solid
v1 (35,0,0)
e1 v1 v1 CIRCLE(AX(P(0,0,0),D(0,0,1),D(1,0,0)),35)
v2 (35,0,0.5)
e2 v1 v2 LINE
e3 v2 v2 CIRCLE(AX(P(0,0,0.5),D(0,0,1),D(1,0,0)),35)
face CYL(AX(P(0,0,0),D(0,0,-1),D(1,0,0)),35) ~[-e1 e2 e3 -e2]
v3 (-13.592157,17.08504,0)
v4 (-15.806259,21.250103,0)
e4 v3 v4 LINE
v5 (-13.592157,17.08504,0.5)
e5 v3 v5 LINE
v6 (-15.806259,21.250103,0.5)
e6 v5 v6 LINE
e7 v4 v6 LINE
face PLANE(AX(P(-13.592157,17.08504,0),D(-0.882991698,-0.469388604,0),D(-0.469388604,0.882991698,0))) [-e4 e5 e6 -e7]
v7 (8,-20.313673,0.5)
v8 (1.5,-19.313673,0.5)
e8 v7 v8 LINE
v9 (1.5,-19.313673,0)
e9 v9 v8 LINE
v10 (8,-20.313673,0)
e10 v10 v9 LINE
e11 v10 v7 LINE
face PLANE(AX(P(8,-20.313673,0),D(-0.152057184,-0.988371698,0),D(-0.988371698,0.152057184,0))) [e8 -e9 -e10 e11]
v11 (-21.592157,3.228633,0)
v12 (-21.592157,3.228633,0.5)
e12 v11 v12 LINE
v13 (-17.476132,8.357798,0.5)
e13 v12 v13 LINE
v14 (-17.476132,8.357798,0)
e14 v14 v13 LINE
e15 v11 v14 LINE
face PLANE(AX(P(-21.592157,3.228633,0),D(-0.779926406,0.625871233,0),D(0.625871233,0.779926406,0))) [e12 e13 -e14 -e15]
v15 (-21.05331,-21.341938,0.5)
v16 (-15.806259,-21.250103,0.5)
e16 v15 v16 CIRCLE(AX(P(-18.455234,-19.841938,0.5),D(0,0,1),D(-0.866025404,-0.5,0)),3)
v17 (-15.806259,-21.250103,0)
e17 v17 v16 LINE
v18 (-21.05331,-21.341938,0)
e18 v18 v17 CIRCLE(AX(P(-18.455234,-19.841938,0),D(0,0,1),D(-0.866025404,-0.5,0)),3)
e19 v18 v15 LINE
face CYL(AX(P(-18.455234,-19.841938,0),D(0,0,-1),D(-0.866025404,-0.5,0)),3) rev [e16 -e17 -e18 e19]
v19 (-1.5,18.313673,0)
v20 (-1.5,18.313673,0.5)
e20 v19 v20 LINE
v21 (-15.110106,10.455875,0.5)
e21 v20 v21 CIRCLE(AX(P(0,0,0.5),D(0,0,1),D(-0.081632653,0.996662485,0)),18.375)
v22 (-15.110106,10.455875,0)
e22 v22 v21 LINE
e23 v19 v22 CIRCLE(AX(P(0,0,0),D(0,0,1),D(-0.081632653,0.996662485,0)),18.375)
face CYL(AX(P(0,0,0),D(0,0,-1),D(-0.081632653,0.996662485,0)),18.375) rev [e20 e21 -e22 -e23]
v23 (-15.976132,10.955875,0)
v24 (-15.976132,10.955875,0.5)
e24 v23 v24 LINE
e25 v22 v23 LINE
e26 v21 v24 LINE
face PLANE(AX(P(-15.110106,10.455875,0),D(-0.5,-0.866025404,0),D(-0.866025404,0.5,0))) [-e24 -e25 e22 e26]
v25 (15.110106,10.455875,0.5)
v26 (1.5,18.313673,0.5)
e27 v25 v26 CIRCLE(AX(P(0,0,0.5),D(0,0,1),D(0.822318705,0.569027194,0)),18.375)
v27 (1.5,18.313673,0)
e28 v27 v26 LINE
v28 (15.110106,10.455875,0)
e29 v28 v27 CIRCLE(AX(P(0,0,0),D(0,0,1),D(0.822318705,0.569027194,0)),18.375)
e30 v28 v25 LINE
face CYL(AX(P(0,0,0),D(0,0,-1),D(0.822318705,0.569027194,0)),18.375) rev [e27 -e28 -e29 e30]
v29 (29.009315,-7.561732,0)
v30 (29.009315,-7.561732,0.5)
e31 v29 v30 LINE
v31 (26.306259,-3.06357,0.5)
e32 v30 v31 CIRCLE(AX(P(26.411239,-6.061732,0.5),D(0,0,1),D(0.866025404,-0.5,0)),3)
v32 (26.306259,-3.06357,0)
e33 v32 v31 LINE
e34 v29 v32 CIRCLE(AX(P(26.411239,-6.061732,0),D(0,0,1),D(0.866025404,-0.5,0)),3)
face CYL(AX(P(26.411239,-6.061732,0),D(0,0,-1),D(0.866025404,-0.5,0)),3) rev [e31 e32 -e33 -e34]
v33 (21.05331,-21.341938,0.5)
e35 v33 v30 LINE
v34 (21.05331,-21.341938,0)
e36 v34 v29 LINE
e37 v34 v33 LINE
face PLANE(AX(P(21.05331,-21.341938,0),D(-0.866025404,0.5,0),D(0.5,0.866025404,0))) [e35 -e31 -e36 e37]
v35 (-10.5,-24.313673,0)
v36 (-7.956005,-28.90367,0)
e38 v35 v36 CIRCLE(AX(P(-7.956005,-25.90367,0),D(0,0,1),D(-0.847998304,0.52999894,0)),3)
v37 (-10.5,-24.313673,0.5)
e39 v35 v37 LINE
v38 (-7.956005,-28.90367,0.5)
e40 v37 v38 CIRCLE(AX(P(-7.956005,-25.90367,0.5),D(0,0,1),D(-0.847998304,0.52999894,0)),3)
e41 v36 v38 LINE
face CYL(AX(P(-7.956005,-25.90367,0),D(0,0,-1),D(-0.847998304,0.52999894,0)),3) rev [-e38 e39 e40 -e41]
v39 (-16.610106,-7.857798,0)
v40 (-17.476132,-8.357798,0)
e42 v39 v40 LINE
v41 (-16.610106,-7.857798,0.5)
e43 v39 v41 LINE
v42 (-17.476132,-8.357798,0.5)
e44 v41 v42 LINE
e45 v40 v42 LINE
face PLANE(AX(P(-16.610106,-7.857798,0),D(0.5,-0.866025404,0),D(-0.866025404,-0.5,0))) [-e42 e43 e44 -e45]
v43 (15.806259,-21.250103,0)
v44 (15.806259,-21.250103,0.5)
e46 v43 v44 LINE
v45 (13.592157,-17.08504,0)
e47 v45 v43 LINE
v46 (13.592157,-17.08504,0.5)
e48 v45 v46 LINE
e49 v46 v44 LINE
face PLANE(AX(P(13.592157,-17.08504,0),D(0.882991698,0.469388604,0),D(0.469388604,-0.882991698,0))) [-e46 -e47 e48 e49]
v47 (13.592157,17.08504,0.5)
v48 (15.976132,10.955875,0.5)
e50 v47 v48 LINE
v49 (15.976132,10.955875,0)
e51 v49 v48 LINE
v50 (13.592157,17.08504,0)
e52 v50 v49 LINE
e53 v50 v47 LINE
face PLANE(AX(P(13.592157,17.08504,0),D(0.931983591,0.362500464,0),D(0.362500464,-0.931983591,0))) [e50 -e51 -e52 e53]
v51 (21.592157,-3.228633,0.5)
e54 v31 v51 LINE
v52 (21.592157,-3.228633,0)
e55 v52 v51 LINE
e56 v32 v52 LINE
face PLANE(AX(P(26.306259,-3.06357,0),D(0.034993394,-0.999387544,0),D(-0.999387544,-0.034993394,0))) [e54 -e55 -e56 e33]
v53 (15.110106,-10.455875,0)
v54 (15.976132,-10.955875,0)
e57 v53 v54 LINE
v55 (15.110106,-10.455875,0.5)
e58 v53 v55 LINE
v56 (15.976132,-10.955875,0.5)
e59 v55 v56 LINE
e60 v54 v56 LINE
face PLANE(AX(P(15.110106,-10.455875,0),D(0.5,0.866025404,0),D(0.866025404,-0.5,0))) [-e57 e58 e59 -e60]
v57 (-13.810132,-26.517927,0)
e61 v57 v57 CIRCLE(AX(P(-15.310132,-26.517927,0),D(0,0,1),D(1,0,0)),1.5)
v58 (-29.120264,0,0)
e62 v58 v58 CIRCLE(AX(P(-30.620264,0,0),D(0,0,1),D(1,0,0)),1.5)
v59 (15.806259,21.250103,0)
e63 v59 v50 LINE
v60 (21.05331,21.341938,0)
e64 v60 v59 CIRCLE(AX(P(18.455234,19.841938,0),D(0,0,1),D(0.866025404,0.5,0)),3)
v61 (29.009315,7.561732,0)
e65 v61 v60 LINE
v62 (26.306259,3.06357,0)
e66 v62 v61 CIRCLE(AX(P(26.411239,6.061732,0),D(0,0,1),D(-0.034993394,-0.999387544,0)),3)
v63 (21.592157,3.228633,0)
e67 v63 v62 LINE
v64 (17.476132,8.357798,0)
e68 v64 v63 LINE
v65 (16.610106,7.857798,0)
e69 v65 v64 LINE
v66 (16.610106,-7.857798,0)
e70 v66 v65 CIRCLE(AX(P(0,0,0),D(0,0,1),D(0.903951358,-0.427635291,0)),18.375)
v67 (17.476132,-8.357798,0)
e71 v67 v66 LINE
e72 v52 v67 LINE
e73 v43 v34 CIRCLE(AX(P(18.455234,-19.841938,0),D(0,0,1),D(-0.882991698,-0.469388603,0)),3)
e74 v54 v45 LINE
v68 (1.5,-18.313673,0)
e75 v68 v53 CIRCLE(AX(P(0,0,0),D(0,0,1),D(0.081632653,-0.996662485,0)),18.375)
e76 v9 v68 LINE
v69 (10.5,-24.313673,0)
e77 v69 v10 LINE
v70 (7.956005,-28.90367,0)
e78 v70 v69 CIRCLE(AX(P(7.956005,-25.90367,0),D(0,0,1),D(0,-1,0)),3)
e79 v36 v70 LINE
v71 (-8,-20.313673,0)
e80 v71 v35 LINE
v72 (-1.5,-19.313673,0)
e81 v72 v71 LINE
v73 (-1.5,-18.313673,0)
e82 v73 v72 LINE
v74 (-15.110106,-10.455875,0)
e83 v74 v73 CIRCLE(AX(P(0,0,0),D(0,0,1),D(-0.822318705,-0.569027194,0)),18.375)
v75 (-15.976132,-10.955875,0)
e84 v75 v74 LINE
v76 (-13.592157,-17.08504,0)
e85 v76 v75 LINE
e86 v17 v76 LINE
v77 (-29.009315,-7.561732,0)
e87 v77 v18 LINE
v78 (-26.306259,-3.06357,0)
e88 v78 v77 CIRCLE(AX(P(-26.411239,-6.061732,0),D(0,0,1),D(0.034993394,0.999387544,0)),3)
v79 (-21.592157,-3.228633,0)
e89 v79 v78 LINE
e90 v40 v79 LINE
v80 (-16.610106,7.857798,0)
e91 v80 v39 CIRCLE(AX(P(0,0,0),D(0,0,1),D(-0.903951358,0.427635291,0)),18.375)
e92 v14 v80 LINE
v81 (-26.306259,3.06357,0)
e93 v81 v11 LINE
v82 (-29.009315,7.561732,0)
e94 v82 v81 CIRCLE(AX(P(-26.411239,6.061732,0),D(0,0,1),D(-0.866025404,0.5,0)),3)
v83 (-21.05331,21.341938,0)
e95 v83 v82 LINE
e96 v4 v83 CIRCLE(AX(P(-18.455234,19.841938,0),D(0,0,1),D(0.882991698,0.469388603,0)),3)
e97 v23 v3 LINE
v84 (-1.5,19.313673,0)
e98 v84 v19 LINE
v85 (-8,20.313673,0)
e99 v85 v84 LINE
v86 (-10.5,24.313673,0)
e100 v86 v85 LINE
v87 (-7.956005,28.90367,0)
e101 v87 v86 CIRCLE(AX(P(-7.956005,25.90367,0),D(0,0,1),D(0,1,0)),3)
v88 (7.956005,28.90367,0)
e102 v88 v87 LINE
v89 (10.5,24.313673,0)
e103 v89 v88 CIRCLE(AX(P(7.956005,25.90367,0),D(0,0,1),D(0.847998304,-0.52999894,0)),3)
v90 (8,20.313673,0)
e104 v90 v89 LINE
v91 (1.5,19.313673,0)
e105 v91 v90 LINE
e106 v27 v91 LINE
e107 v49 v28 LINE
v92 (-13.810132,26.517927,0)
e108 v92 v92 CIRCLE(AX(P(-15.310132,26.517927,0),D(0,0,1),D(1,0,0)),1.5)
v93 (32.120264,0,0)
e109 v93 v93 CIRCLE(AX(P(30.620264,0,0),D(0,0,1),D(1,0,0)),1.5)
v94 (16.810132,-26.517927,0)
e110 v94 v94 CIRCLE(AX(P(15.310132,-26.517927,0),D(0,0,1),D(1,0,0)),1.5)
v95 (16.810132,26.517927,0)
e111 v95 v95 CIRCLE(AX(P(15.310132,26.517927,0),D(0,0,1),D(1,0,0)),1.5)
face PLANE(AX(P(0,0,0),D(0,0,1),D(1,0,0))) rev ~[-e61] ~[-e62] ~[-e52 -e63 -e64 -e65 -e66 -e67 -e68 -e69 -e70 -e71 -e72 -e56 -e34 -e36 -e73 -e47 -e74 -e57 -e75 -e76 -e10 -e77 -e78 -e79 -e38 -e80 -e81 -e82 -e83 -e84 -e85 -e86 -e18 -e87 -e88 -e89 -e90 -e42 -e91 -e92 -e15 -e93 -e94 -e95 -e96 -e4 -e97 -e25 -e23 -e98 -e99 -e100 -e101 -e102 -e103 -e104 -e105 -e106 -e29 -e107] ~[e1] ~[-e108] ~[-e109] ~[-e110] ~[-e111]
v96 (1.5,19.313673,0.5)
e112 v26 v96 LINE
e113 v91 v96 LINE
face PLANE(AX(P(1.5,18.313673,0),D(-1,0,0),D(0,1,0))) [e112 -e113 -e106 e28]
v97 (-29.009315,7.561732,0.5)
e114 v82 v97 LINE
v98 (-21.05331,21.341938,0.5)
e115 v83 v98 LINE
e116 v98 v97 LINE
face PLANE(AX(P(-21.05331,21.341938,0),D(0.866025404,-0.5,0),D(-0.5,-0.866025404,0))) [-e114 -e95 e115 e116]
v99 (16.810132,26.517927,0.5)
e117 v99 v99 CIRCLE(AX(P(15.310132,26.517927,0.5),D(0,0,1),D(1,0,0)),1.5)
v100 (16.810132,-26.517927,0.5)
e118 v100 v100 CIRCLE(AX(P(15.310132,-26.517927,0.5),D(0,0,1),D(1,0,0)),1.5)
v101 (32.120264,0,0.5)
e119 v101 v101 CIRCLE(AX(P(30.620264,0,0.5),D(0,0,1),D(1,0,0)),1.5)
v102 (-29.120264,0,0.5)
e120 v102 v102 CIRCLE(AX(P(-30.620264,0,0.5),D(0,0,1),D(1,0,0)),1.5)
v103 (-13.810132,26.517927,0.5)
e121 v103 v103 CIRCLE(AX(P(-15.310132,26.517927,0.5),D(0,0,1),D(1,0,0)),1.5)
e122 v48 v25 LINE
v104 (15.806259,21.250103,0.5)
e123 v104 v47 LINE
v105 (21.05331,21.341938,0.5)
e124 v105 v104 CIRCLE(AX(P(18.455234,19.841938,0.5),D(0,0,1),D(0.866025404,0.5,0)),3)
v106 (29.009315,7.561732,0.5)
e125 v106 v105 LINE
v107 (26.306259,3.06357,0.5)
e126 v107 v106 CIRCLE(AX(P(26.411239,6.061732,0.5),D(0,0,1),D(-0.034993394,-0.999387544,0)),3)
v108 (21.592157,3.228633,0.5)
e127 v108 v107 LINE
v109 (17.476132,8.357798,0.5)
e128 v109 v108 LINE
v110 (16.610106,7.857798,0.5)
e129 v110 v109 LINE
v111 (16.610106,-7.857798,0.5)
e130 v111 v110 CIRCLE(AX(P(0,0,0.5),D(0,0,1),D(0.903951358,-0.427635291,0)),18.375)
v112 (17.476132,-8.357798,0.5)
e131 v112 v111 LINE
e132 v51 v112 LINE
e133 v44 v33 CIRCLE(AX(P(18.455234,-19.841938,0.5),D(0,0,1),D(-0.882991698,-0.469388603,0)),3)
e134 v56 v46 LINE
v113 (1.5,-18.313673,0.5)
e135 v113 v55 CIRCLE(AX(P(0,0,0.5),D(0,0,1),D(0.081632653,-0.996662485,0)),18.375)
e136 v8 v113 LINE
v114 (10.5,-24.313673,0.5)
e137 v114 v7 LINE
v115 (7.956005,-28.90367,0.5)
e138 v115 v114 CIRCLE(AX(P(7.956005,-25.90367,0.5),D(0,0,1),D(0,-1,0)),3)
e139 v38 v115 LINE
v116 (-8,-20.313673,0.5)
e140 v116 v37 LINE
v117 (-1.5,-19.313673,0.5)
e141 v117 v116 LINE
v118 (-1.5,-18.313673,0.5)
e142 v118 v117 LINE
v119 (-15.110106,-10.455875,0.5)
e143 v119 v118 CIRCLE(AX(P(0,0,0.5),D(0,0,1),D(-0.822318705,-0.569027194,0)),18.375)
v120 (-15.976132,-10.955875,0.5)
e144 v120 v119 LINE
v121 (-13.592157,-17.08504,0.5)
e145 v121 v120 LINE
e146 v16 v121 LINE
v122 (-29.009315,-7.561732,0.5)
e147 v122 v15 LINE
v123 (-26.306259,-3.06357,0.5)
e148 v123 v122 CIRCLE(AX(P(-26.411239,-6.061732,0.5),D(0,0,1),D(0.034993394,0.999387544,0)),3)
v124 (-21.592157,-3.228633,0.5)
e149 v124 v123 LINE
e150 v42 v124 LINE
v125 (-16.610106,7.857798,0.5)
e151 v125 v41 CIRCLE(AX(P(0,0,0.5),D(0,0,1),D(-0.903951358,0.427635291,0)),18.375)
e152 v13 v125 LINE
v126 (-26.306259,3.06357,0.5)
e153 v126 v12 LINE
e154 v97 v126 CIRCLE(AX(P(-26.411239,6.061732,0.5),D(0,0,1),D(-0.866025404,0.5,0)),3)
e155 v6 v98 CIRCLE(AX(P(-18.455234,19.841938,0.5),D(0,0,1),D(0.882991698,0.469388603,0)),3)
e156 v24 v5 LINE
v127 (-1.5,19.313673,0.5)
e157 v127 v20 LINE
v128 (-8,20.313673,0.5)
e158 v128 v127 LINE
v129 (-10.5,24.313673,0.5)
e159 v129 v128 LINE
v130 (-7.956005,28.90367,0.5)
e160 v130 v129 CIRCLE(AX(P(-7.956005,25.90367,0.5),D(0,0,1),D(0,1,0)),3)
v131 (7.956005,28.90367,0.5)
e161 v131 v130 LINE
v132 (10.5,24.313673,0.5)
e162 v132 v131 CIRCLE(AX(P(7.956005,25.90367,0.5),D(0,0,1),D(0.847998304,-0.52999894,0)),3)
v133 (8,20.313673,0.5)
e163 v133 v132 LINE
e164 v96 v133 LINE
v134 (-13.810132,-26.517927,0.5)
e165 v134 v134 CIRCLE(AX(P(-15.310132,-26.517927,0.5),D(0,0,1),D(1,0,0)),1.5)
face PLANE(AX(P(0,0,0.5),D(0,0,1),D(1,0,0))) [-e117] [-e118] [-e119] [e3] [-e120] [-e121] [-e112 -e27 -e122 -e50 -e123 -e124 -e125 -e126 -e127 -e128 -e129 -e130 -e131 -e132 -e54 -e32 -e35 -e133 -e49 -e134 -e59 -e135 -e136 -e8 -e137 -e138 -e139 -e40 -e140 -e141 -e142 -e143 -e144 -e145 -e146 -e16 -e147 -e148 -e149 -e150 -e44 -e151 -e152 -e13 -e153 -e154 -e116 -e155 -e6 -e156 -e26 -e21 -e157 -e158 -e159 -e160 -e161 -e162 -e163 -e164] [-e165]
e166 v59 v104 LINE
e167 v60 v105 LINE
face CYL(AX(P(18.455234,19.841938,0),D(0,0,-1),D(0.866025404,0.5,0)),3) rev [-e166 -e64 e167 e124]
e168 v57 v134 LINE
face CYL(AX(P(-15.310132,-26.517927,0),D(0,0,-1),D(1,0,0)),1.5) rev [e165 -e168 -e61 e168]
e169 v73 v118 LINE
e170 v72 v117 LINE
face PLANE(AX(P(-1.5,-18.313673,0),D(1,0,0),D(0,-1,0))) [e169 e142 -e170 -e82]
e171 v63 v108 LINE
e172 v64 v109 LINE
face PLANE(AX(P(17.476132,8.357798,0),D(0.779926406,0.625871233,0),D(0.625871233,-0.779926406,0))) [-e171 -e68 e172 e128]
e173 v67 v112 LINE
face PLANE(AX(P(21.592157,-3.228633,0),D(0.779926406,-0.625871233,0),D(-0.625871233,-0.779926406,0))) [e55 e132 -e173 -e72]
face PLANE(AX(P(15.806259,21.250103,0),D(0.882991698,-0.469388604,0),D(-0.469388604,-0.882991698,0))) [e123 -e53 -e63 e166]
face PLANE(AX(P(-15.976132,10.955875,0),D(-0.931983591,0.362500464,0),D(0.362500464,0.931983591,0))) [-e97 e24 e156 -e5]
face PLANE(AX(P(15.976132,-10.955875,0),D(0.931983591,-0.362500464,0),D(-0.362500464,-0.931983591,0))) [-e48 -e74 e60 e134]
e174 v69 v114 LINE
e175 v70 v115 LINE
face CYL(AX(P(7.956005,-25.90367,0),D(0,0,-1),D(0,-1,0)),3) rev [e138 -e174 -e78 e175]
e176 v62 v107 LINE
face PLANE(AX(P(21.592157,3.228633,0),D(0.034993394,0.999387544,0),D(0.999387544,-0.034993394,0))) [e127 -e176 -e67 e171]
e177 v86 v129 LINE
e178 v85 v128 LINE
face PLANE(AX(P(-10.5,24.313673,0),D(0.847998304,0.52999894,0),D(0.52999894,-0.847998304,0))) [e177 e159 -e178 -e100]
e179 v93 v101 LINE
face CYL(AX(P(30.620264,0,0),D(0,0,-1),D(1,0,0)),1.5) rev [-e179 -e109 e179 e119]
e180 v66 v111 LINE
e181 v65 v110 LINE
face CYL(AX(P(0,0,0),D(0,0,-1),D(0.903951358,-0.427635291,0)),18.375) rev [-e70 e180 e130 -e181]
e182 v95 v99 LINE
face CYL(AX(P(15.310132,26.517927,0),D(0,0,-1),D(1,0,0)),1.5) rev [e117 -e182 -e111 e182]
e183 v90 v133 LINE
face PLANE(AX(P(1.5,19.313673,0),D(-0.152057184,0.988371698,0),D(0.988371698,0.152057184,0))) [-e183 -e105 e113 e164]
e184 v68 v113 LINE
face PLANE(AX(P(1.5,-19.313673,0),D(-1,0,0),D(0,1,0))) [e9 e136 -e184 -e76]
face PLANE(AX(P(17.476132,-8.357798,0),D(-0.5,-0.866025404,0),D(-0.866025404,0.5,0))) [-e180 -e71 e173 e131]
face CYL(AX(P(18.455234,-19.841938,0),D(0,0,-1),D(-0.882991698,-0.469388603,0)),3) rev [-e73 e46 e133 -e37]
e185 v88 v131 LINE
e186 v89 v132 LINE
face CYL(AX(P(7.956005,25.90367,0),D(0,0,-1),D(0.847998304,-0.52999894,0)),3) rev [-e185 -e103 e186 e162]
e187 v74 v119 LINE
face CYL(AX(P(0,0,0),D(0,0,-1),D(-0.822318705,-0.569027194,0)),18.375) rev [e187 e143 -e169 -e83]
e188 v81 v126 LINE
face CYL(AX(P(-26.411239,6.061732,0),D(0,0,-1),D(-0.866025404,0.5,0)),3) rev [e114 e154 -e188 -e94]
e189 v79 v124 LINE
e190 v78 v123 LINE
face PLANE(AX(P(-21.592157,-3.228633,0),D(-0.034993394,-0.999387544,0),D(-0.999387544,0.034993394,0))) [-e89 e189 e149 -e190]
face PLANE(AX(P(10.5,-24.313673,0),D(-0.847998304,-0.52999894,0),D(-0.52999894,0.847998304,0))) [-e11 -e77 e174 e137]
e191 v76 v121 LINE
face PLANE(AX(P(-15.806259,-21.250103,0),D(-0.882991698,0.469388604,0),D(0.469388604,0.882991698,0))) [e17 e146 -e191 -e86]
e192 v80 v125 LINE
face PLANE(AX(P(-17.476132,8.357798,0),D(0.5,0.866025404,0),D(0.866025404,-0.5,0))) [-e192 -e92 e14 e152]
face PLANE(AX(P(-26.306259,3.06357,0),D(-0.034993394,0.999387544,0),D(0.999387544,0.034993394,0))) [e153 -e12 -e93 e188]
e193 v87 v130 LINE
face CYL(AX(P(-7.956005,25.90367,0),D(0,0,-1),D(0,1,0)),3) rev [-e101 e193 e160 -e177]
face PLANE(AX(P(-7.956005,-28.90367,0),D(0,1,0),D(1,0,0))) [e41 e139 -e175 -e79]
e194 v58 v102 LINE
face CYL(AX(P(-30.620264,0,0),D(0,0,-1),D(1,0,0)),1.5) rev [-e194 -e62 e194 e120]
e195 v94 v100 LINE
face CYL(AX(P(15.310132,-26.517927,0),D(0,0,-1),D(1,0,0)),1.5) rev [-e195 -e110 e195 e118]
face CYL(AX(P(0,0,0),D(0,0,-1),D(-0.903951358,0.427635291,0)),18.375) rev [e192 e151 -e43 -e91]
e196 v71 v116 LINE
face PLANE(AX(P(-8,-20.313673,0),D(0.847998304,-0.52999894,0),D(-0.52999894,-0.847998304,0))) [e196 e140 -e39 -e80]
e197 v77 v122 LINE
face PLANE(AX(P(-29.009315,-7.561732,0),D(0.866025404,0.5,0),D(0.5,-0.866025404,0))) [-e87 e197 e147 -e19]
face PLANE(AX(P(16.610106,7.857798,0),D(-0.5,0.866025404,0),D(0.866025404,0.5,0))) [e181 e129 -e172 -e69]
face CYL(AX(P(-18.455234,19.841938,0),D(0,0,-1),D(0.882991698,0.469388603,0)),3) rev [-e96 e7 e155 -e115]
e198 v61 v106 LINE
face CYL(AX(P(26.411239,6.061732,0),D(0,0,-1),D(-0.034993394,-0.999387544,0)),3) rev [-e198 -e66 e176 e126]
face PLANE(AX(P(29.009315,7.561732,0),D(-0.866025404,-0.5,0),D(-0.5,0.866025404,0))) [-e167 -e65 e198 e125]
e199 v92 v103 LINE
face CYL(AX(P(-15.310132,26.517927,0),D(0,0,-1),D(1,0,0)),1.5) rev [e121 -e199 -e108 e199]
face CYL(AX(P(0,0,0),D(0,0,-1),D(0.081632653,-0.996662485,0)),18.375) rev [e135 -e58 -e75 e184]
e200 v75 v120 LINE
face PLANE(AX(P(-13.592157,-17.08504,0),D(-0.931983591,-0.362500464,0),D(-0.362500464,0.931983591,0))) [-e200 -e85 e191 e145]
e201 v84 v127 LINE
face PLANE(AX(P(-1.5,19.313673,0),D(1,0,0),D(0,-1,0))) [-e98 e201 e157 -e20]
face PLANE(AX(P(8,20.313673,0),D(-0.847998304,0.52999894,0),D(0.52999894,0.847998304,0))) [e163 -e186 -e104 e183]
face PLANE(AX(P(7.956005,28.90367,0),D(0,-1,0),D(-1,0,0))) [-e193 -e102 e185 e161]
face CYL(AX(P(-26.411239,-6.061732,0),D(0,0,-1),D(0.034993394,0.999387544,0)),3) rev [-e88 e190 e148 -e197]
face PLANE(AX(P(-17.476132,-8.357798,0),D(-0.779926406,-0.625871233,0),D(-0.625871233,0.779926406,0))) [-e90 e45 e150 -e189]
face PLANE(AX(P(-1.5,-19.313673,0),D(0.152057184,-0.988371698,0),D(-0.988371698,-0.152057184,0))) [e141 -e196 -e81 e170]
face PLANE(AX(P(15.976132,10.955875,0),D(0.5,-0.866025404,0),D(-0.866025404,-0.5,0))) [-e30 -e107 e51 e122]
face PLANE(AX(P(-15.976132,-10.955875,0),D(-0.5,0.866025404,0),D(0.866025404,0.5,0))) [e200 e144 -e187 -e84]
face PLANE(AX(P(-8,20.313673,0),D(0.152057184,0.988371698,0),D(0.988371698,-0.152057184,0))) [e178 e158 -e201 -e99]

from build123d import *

# Parameters (mm, degrees)
IZIM2_R                     = 35
IZIM2_R_2                   = 1.5
Y_KSEKLIK_EKSTR_ZYON1_DEPTH = 0.5


with BuildPart() as part:
    # Çizim2 → Yükseklik-Ekstrüzyon1 (new body)
    with BuildSketch(Plane.XY):
        Circle(IZIM2_R)
        with Locations((-15.31013221, -26.517926859)):
            Circle(IZIM2_R_2, mode=Mode.SUBTRACT)
        with Locations((30.62026442, 0)):
            Circle(IZIM2_R_2, mode=Mode.SUBTRACT)
        with Locations((-15.31013221, 26.517926859)):
            Circle(IZIM2_R_2, mode=Mode.SUBTRACT)
        with Locations((15.31013221, 26.517926859)):
            Circle(IZIM2_R_2, mode=Mode.SUBTRACT)
        with Locations((15.31013221, -26.517926859)):
            Circle(IZIM2_R_2, mode=Mode.SUBTRACT)
        with Locations((-30.62026442, 0)):
            Circle(IZIM2_R_2, mode=Mode.SUBTRACT)
        with BuildLine():
            Line((-15.110106202, 10.455874691), (-15.976131606, 10.955874691))
            Line((-15.976131606, 10.955874691), (-13.59215701, 17.085039816))
            Line((-13.59215701, 17.085039816), (-15.806258625, 21.250103325))
            ThreePointArc((-15.806258625, 21.250103325), (-18.402735589, 22.841478137), (-21.05330993, 21.341937514))
            Line((-21.05330993, 21.341937514), (-29.009315019, 7.561732477))
            ThreePointArc((-29.009315019, 7.561732477), (-28.982668121, 4.516497451), (-26.306258625, 3.063569846))
            Line((-26.306258625, 3.063569846), (-21.59215701, 3.228633355))
            Line((-21.59215701, 3.228633355), (-17.476131606, 8.35779848))
            Line((-17.476131606, 8.35779848), (-16.610106202, 7.85779848))
            ThreePointArc((-16.610106202, 7.85779848), (-18.375, 0), (-16.610106202, -7.85779848))
            Line((-16.610106202, -7.85779848), (-17.476131606, -8.35779848))
            Line((-17.476131606, -8.35779848), (-21.59215701, -3.228633355))
            Line((-21.59215701, -3.228633355), (-26.306258625, -3.063569846))
            ThreePointArc((-26.306258625, -3.063569846), (-28.982668121, -4.516497451), (-29.009315018, -7.561732476))
            Line((-29.009315018, -7.561732476), (-21.05330993, -21.341937514))
            ThreePointArc((-21.05330993, -21.341937514), (-18.402735589, -22.841478137), (-15.806258625, -21.250103325))
            Line((-15.806258625, -21.250103325), (-13.59215701, -17.085039816))
            Line((-13.59215701, -17.085039816), (-15.976131606, -10.955874691))
            Line((-15.976131606, -10.955874691), (-15.110106202, -10.455874691))
            ThreePointArc((-15.110106202, -10.455874691), (-9.1875, -15.913216795), (-1.5, -18.313673171))
            Line((-1.5, -18.313673171), (-1.5, -19.313673171))
            Line((-1.5, -19.313673171), (-8, -20.313673171))
            Line((-8, -20.313673171), (-10.5, -24.313673171))
            ThreePointArc((-10.5, -24.313673171), (-10.579932532, -27.357975588), (-7.956005088, -28.903669991))
            Line((-7.956005088, -28.903669991), (7.956005088, -28.903669991))
            ThreePointArc((7.956005088, -28.903669991), (10.579932532, -27.357975588), (10.5, -24.313673171))
            Line((10.5, -24.313673171), (8, -20.313673171))
            Line((8, -20.313673171), (1.5, -19.313673171))
            Line((1.5, -19.313673171), (1.5, -18.313673171))
            ThreePointArc((1.5, -18.313673171), (9.1875, -15.913216795), (15.110106202, -10.455874691))
            Line((15.110106202, -10.455874691), (15.976131606, -10.955874691))
            Line((15.976131606, -10.955874691), (13.59215701, -17.085039816))
            Line((13.59215701, -17.085039816), (15.806258625, -21.250103325))
            ThreePointArc((15.806258625, -21.250103325), (18.402735589, -22.841478137), (21.05330993, -21.341937514))
            Line((21.05330993, -21.341937514), (29.009315019, -7.561732476))
            ThreePointArc((29.009315019, -7.561732476), (28.982668121, -4.516497451), (26.306258625, -3.063569846))
            Line((26.306258625, -3.063569846), (21.59215701, -3.228633355))
            Line((21.59215701, -3.228633355), (17.476131606, -8.35779848))
            Line((17.476131606, -8.35779848), (16.610106202, -7.85779848))
            ThreePointArc((16.610106202, -7.85779848), (18.375, 0), (16.610106202, 7.85779848))
            Line((16.610106202, 7.85779848), (17.476131606, 8.35779848))
            Line((17.476131606, 8.35779848), (21.59215701, 3.228633355))
            Line((21.59215701, 3.228633355), (26.306258625, 3.063569846))
            ThreePointArc((26.306258625, 3.063569846), (28.982668121, 4.516497451), (29.009315018, 7.561732476))
            Line((29.009315018, 7.561732476), (21.05330993, 21.341937514))
            ThreePointArc((21.05330993, 21.341937514), (18.402735589, 22.841478137), (15.806258625, 21.250103325))
            Line((15.806258625, 21.250103325), (13.59215701, 17.085039816))
            Line((13.59215701, 17.085039816), (15.976131606, 10.955874691))
            Line((15.976131606, 10.955874691), (15.110106202, 10.455874691))
            ThreePointArc((15.110106202, 10.455874691), (9.1875, 15.913216795), (1.5, 18.313673171))
            Line((1.5, 18.313673171), (1.5, 19.313673171))
            Line((1.5, 19.313673171), (8, 20.313673171))
            Line((8, 20.313673171), (10.5, 24.313673171))
            ThreePointArc((10.5, 24.313673171), (10.579932532, 27.357975588), (7.956005088, 28.903669991))
            Line((7.956005088, 28.903669991), (-7.956005088, 28.903669991))
            ThreePointArc((-7.956005088, 28.903669991), (-10.579932532, 27.357975588), (-10.5, 24.313673171))
            Line((-10.5, 24.313673171), (-8, 20.313673171))
            Line((-8, 20.313673171), (-1.5, 19.313673171))
            Line((-1.5, 19.313673171), (-1.5, 18.313673171))
            ThreePointArc((-1.5, 18.313673171), (-9.1875, 15.913216795), (-15.110106202, 10.455874691))
        make_face(mode=Mode.SUBTRACT)
    extrude(amount=Y_KSEKLIK_EKSTR_ZYON1_DEPTH)


solid = part.part
